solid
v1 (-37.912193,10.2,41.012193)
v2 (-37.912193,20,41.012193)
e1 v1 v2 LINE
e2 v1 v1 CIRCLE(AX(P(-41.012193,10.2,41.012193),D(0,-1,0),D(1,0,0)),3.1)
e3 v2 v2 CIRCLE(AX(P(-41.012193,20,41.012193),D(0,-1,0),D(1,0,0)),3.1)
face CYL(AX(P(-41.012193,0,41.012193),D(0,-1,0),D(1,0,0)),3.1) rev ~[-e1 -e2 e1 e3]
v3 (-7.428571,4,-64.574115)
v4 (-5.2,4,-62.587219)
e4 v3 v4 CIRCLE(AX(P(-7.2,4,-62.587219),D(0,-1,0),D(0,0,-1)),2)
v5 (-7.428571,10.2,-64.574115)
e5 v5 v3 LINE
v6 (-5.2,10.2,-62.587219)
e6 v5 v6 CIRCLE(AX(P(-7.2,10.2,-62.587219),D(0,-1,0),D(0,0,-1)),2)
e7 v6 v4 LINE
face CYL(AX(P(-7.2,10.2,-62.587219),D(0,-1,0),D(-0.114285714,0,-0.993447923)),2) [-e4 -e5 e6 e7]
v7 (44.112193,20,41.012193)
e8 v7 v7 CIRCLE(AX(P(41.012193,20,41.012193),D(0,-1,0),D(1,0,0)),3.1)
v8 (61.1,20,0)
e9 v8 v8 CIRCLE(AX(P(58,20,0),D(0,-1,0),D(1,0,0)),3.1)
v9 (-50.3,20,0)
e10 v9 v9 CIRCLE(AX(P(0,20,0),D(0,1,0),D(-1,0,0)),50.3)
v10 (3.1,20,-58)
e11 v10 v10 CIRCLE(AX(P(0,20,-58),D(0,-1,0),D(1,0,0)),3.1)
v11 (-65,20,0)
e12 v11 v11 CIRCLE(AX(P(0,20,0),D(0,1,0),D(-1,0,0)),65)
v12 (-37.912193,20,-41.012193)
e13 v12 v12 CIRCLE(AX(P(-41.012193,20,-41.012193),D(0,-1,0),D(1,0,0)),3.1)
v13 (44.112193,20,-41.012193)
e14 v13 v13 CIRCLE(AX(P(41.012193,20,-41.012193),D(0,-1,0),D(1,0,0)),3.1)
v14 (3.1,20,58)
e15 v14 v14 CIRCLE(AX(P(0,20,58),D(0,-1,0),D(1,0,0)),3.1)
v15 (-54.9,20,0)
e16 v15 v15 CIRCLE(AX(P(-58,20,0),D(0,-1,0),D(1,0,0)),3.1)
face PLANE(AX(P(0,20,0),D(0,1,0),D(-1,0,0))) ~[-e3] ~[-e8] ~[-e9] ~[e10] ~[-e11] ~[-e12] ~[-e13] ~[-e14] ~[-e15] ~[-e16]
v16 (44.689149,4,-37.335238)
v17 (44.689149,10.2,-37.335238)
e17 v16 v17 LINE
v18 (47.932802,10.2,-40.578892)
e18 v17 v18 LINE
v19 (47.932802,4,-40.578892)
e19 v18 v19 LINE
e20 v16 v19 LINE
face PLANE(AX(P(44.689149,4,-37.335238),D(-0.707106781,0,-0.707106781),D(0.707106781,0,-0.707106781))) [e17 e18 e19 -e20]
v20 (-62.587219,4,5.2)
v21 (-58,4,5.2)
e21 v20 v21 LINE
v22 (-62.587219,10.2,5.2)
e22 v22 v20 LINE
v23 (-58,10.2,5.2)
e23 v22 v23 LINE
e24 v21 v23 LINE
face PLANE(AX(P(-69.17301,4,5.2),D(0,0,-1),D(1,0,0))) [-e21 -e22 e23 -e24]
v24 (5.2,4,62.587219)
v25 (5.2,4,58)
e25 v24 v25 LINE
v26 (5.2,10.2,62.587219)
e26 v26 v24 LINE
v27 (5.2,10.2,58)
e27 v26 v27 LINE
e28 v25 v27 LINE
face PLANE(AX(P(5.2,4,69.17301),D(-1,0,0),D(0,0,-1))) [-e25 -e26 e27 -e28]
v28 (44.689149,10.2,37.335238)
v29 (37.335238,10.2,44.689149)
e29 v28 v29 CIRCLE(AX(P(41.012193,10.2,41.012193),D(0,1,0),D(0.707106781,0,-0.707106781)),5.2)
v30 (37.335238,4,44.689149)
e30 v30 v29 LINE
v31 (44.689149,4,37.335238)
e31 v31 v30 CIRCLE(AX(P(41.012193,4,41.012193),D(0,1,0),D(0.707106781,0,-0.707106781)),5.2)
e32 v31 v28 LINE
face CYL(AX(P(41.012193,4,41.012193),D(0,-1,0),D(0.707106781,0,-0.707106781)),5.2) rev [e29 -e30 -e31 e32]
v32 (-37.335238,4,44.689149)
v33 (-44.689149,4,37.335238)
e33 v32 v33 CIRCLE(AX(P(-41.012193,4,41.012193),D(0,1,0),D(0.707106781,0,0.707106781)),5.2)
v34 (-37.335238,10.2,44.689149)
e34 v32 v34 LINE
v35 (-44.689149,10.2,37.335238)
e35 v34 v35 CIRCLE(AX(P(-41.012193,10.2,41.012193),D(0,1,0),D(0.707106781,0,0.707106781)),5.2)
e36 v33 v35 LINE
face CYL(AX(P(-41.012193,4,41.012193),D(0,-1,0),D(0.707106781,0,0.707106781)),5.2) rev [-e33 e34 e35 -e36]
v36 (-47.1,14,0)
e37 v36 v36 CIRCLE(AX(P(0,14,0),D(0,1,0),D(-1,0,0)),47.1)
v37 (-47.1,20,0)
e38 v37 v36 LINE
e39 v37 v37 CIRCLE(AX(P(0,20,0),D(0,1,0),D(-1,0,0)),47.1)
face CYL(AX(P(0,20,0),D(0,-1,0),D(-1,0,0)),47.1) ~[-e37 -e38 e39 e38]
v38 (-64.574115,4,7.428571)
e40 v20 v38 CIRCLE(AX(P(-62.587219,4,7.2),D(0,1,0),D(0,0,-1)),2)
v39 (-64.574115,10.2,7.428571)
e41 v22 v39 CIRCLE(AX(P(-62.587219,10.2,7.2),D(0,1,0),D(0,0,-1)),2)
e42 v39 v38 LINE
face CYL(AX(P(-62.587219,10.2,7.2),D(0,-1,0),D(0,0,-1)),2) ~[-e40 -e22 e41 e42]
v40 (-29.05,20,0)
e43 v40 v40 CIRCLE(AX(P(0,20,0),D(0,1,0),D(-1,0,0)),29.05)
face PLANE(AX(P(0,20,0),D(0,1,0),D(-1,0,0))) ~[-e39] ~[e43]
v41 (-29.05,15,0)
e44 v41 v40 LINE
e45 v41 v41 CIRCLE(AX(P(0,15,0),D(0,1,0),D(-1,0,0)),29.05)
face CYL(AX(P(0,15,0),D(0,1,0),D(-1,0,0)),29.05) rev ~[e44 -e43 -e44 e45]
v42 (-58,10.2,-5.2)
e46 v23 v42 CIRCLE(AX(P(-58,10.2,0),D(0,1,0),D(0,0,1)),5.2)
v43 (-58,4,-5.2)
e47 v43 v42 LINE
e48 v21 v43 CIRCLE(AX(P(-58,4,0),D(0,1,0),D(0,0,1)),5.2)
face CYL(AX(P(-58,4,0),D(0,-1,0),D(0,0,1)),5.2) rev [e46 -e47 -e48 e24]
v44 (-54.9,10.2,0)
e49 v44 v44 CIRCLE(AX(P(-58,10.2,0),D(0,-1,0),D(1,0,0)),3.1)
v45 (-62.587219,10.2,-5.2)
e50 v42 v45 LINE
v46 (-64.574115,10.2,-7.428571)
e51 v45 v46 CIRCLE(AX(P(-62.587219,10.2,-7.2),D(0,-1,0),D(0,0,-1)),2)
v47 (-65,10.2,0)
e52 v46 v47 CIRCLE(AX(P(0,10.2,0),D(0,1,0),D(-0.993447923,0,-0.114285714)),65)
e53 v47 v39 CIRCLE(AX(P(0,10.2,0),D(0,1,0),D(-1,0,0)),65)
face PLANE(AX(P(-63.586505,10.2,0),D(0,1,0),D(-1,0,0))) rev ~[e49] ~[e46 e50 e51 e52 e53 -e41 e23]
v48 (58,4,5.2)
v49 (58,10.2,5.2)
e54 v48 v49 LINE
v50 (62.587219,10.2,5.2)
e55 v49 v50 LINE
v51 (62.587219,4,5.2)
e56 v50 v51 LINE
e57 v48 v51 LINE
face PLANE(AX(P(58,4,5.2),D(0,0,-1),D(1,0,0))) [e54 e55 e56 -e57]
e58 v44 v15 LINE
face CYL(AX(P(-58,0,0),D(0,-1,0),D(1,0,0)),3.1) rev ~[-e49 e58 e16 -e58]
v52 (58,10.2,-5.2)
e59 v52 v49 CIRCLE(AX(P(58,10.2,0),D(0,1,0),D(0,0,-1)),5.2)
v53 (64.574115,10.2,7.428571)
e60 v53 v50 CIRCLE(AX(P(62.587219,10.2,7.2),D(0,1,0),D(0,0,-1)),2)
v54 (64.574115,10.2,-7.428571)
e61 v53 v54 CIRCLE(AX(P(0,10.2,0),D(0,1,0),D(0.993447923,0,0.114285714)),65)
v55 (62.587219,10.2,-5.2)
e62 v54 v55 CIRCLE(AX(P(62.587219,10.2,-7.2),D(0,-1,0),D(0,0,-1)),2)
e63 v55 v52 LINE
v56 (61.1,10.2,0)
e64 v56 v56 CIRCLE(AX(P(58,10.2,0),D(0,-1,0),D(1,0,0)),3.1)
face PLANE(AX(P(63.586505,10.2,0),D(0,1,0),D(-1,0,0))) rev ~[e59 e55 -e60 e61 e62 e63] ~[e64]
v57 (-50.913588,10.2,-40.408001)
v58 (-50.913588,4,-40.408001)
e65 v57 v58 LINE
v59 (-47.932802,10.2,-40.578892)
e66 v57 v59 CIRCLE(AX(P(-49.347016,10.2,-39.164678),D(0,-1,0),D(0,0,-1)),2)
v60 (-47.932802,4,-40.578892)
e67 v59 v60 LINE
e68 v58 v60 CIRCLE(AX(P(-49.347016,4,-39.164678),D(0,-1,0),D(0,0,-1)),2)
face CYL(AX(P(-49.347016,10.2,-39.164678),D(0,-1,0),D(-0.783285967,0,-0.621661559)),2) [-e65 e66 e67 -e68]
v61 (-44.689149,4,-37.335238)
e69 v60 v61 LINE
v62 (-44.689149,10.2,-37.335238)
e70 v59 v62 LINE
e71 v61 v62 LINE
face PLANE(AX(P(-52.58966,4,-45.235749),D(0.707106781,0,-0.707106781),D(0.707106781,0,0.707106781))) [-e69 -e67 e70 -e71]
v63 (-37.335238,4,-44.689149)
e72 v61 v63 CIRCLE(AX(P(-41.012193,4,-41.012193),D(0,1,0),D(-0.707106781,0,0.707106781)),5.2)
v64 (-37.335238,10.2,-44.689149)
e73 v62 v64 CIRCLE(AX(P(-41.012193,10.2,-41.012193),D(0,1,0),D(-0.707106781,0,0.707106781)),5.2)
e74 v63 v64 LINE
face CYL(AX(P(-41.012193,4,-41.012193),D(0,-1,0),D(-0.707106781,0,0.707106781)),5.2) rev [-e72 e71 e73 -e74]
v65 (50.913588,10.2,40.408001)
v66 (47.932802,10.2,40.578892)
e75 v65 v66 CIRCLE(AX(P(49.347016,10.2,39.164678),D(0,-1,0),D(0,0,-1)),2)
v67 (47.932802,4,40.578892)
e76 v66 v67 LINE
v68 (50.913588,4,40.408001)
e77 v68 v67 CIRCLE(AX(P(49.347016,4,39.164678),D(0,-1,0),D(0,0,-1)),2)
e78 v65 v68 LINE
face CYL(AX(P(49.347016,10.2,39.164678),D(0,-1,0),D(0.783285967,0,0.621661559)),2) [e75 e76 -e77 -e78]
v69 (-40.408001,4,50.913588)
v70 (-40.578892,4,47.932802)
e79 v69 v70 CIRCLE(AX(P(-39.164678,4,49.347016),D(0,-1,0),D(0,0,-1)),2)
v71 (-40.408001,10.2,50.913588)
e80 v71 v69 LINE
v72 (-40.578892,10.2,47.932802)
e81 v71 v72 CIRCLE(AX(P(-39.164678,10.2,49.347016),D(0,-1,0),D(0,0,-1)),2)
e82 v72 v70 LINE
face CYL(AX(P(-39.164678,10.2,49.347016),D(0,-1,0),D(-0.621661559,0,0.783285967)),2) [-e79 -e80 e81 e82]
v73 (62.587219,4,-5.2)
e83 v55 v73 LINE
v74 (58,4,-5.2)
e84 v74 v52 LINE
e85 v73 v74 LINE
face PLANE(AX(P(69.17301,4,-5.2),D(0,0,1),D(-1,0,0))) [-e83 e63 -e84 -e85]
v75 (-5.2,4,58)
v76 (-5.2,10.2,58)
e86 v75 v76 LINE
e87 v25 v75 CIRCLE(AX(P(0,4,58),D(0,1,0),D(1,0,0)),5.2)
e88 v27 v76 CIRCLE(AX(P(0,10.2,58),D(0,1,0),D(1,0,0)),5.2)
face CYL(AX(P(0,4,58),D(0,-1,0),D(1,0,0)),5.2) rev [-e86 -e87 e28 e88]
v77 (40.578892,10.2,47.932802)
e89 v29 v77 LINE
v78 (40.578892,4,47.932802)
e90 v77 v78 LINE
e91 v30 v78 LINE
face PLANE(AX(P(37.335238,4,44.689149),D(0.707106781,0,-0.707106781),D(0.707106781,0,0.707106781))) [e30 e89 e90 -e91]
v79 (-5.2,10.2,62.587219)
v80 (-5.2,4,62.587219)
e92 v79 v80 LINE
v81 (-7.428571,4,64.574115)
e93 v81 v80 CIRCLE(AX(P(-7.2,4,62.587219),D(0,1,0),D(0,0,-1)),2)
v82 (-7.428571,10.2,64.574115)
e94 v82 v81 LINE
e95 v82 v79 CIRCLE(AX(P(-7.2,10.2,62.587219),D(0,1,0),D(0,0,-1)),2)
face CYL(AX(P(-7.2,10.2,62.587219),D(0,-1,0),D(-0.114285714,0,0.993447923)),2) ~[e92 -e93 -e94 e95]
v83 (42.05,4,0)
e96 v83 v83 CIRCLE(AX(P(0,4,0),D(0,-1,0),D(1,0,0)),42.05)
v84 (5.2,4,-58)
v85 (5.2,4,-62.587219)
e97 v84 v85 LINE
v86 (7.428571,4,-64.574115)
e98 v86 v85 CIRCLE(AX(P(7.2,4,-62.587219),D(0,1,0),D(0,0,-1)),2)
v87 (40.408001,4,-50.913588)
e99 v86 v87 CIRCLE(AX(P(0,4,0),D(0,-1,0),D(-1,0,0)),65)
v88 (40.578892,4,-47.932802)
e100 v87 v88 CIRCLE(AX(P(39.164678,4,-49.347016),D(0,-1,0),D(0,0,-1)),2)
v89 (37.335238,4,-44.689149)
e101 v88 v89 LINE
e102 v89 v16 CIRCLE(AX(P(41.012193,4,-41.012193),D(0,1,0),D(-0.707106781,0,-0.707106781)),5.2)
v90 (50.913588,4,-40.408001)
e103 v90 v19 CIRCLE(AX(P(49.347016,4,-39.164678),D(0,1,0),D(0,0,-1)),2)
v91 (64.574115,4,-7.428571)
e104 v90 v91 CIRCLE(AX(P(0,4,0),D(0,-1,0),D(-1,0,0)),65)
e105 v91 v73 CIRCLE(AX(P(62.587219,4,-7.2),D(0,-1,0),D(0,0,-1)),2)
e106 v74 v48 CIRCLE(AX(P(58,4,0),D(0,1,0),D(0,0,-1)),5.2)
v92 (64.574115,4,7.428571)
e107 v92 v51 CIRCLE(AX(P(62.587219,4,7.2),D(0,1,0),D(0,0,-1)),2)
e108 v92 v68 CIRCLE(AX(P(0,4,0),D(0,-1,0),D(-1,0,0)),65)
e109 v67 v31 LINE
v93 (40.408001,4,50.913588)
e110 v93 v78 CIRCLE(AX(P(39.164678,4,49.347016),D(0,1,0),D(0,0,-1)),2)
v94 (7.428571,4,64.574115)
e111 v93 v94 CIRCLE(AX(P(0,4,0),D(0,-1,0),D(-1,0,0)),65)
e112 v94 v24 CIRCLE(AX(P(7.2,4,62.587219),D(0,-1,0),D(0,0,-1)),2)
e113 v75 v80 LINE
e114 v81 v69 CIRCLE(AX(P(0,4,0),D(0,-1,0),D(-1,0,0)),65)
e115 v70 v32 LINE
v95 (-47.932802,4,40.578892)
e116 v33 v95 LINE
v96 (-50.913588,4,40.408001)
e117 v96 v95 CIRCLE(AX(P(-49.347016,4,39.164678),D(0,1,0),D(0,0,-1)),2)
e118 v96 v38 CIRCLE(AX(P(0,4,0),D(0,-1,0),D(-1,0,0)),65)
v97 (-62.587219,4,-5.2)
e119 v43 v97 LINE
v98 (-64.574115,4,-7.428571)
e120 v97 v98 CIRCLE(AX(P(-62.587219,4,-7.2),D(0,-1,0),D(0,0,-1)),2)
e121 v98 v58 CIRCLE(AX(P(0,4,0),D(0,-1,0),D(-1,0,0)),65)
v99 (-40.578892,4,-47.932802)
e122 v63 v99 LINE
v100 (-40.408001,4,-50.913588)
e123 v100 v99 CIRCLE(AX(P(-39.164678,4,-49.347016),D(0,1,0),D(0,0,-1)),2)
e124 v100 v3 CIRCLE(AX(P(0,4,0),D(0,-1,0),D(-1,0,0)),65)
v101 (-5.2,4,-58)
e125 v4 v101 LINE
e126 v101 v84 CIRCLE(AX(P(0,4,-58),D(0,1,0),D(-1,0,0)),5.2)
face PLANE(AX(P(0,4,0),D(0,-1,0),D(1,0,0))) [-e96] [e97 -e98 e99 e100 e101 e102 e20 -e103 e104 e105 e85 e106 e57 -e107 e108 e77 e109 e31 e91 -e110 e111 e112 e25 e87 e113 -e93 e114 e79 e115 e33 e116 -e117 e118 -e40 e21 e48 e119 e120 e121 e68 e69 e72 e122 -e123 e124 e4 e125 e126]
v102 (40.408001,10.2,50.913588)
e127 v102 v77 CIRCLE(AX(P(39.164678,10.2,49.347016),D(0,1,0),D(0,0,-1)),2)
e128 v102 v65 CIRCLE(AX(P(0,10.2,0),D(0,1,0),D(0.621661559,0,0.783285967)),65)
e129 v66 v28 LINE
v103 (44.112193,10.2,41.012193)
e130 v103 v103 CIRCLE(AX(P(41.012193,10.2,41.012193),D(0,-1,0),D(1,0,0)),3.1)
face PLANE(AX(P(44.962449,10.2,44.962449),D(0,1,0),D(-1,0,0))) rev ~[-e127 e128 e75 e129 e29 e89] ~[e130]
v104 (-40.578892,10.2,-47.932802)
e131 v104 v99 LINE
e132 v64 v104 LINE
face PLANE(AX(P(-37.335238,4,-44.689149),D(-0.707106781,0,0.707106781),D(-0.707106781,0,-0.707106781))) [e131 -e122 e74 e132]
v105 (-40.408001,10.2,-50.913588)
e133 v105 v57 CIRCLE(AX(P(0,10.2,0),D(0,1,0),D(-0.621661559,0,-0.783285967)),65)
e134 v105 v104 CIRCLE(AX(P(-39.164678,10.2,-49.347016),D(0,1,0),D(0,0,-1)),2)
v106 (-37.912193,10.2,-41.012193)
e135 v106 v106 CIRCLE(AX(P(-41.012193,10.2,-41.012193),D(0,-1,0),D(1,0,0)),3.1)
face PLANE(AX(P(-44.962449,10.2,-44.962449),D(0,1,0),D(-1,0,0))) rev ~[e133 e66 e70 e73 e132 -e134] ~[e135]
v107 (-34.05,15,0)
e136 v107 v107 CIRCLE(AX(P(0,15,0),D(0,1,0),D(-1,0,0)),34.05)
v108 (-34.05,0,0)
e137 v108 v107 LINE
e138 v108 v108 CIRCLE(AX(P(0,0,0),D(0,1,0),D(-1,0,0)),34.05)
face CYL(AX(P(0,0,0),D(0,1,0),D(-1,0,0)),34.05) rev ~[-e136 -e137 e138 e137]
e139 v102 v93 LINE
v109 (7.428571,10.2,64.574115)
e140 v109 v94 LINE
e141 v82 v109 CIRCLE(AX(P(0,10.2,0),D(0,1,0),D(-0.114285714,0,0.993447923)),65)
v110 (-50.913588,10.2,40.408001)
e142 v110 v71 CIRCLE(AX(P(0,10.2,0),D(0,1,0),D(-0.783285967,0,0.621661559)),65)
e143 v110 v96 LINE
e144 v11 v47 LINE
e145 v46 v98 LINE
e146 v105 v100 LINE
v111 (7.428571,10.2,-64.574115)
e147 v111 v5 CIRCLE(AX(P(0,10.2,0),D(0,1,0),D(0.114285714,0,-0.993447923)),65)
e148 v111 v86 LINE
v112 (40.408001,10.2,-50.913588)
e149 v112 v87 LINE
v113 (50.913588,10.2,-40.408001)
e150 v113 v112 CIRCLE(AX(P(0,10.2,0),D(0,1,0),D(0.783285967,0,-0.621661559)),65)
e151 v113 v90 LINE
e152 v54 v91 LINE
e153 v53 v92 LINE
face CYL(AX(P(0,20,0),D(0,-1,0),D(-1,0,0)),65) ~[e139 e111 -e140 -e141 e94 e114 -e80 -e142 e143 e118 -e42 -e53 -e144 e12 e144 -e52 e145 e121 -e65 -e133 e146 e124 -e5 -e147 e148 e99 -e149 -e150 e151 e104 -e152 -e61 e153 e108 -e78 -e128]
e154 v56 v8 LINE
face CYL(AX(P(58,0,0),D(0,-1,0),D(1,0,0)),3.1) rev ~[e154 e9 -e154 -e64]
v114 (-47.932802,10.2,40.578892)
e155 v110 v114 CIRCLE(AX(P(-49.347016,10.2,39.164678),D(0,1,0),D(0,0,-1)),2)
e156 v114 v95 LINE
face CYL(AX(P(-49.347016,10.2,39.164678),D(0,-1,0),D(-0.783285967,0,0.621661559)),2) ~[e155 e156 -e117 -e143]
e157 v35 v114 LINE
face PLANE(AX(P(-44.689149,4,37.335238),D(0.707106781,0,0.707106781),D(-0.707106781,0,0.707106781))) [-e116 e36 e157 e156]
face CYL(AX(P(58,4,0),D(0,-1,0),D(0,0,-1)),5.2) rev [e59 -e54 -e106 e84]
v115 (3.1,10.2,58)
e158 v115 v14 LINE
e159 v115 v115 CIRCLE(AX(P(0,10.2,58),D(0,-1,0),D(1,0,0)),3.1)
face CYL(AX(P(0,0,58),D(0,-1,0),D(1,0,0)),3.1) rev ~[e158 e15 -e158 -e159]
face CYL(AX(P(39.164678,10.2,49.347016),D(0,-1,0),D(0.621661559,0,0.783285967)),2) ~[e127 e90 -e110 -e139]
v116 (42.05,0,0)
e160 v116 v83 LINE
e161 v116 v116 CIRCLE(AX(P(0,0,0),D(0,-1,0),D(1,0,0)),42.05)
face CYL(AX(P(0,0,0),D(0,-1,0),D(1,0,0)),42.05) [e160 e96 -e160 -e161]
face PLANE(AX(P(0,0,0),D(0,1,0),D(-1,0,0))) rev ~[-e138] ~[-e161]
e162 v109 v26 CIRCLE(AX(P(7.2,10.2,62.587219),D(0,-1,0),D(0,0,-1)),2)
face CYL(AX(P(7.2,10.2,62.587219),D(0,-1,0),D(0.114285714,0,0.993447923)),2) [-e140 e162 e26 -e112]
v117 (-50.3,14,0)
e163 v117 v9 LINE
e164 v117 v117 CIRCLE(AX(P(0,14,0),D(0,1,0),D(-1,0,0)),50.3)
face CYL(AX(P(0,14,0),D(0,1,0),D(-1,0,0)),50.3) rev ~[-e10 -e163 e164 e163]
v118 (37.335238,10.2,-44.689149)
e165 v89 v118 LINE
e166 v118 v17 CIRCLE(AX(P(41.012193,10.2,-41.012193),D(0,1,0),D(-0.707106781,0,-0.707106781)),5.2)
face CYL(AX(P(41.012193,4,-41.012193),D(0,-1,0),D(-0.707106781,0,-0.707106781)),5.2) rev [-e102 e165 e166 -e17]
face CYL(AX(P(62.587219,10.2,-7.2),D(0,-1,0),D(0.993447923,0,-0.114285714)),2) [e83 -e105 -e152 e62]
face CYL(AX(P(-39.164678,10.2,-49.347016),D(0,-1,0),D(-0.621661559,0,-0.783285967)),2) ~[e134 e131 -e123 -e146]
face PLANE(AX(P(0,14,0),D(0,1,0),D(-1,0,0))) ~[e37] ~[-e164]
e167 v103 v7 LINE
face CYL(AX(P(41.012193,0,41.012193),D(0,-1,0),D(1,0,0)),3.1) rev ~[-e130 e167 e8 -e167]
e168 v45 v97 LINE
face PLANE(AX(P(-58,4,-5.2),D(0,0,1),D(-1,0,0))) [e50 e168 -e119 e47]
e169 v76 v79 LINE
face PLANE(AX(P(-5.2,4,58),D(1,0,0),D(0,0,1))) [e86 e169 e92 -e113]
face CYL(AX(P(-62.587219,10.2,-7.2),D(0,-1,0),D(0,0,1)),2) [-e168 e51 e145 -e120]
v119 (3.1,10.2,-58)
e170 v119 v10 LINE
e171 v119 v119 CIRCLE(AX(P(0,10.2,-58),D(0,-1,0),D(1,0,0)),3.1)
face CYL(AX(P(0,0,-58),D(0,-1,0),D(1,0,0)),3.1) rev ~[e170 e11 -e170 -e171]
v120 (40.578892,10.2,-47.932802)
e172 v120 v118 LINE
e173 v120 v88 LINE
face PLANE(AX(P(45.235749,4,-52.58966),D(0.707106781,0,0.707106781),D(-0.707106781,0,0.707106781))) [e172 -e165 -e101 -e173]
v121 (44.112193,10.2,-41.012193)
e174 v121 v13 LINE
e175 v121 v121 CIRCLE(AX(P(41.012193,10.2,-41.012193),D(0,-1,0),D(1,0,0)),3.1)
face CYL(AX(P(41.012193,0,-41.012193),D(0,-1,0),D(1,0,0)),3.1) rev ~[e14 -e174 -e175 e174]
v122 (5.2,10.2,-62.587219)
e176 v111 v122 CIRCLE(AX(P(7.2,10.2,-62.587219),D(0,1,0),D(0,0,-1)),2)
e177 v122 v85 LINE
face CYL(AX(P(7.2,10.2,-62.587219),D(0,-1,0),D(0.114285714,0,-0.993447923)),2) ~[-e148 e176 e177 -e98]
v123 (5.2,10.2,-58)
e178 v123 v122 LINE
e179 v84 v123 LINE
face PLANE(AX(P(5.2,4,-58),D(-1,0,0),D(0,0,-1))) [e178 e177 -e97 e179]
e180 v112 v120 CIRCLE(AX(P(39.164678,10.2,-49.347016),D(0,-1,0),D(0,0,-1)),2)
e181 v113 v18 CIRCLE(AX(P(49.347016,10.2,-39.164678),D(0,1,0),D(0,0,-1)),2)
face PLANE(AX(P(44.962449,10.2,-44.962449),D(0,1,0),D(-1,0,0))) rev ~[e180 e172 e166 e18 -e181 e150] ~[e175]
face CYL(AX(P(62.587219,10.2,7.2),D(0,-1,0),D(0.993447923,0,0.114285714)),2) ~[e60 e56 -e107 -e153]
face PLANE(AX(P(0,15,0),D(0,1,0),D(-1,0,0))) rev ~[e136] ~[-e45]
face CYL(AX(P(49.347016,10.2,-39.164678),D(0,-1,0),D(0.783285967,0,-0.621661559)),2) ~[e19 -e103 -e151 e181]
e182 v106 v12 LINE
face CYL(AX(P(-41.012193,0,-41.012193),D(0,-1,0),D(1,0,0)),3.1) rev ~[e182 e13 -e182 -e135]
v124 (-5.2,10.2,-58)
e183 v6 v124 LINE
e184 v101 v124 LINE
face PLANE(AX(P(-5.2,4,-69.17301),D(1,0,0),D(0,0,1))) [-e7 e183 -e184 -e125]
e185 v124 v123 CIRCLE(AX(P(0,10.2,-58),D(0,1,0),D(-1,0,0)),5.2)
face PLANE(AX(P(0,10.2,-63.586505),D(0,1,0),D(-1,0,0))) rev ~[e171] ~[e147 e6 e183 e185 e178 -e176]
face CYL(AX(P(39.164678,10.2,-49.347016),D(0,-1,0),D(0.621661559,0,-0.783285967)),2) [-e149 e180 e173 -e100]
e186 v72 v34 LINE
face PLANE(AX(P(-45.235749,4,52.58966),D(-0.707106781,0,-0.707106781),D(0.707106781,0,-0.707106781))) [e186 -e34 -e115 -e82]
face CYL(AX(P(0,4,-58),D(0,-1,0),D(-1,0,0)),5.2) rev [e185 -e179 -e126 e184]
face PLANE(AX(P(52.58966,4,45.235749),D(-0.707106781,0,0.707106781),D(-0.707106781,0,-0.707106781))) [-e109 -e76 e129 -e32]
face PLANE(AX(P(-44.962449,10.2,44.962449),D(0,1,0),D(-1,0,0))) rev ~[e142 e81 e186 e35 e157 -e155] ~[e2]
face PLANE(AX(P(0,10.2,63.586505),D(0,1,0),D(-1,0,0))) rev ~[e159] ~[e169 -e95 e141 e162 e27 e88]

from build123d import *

# Parameters (mm, degrees)
ESQUISSE2_R             = 3.1
ENL_V_MAT_EXTRU_1_DEPTH = 21
ESQUISSE4_OUTSIDE_W     = 168.986
ESQUISSE4_OUTSIDE_H     = 168.986
ESQUISSE4_OUTSIDE_R     = 42.05
ENL_V_MAT_EXTRU_3_DEPTH = 4
ESQUISSE3_R             = 5.1
ENL_V_MAT_EXTRU_2_DEPTH = 6.2
ENL_V_MAT_EXTRU_4_DEPTH = 6.2
CONG_2_R                = 2


with BuildPart() as part:
    # Esquisse1 → Révolution1 (revolve)
    with BuildSketch(Plane.XY):
        Polygon((-34.05, 0), (-34.05, 15), (-29.05, 15), (-29.05, 20), (-47.1, 20), (-47.1, 14), (-50.3, 14), (-50.3, 20), (-65, 20), (-65, 0), align=None)
    revolve(axis=Axis((0, 0, 0), (0, 1, 0)))

    # Esquisse2 → Enlèv. mat.-Extru.1 (cut, through all)
    with BuildSketch(Plane.XZ):
        with Locations((0, 58)):
            Circle(ESQUISSE2_R)
        with Locations((41.012193309, 41.012193309)):
            Circle(ESQUISSE2_R)
        with Locations((58, 0)):
            Circle(ESQUISSE2_R)
        with Locations((41.012193309, -41.012193309)):
            Circle(ESQUISSE2_R)
        with Locations((0, -58)):
            Circle(ESQUISSE2_R)
        with Locations((-41.012193309, -41.012193309)):
            Circle(ESQUISSE2_R)
        with Locations((-58, 0)):
            Circle(ESQUISSE2_R)
        with Locations((-41.012193309, 41.012193309)):
            Circle(ESQUISSE2_R)
    extrude(amount=-ENL_V_MAT_EXTRU_1_DEPTH, mode=Mode.SUBTRACT)

    # Esquisse4 outside → Enlèv. mat.-Extru.3 (cut)
    with BuildSketch(Plane.XZ):
        Rectangle(ESQUISSE4_OUTSIDE_W, ESQUISSE4_OUTSIDE_H)
        Circle(ESQUISSE4_OUTSIDE_R, mode=Mode.SUBTRACT)
    extrude(amount=-ENL_V_MAT_EXTRU_3_DEPTH, mode=Mode.SUBTRACT)

    # Esquisse3 → Enlèv. mat.-Extru.2 (cut)
    with BuildSketch(Plane.XZ.offset(-4)):
        with Locations((0, 58)):
            Circle(ESQUISSE3_R)
        with Locations((41.012193309, 41.012193309)):
            Circle(ESQUISSE3_R)
        with Locations((58, 0)):
            Circle(ESQUISSE3_R)
        with Locations((41.012193309, -41.012193309)):
            Circle(ESQUISSE3_R)
        with Locations((0, -58)):
            Circle(ESQUISSE3_R)
        with Locations((-41.012193309, -41.012193309)):
            Circle(ESQUISSE3_R)
        with Locations((-58, 0)):
            Circle(ESQUISSE3_R)
        with Locations((-41.012193309, 41.012193309)):
            Circle(ESQUISSE3_R)
    extrude(amount=-ENL_V_MAT_EXTRU_2_DEPTH, mode=Mode.SUBTRACT)

    # Esquisse5 → Enlèv. mat.-Extru.4 (cut)
    with BuildSketch(Plane.XZ.offset(-4)):
        with BuildLine():
            Line((5.2, -58), (5.2, -69.173010208))
            ThreePointArc((5.2, -69.173010208), (0, -74.373010208), (-5.2, -69.173010208))
            Line((-5.2, -69.173010208), (-5.2, -58))
            ThreePointArc((-5.2, -58), (0, -52.8), (5.2, -58))
        make_face()
        with BuildLine():
            Line((-37.335238047, -44.689148571), (-45.235749331, -52.589659855))
            ThreePointArc((-45.235749331, -52.589659855), (-52.589659855, -52.589659855), (-52.589659855, -45.235749331))
            Line((-52.589659855, -45.235749331), (-44.689148571, -37.335238047))
            ThreePointArc((-44.689148571, -37.335238047), (-37.335238047, -37.335238047), (-37.335238047, -44.689148571))
        make_face()
        with BuildLine():
            Line((-58, -5.2), (-69.173010208, -5.2))
            ThreePointArc((-69.173010208, -5.2), (-74.373010208, 0), (-69.173010208, 5.2))
            Line((-69.173010208, 5.2), (-58, 5.2))
            ThreePointArc((-58, 5.2), (-52.8, 0), (-58, -5.2))
        make_face()
        with BuildLine():
            Line((-44.689148571, 37.335238047), (-52.589659855, 45.235749331))
            ThreePointArc((-52.589659855, 45.235749331), (-52.589659855, 52.589659855), (-45.235749331, 52.589659855))
            Line((-45.235749331, 52.589659855), (-37.335238047, 44.689148571))
            ThreePointArc((-37.335238047, 44.689148571), (-37.335238047, 37.335238047), (-44.689148571, 37.335238047))
        make_face()
        with BuildLine():
            Line((-5.2, 58), (-5.2, 69.173010208))
            ThreePointArc((-5.2, 69.173010208), (0, 74.373010208), (5.2, 69.173010208))
            Line((5.2, 69.173010208), (5.2, 58))
            ThreePointArc((5.2, 58), (0, 52.8), (-5.2, 58))
        make_face()
        with BuildLine():
            Line((37.335238047, 44.689148571), (45.235749331, 52.589659855))
            ThreePointArc((45.235749331, 52.589659855), (52.589659855, 52.589659855), (52.589659855, 45.235749331))
            Line((52.589659855, 45.235749331), (44.689148571, 37.335238047))
            ThreePointArc((44.689148571, 37.335238047), (37.335238047, 37.335238047), (37.335238047, 44.689148571))
        make_face()
        with BuildLine():
            Line((58, 5.2), (69.173010208, 5.2))
            ThreePointArc((69.173010208, 5.2), (74.373010208, 0), (69.173010208, -5.2))
            Line((69.173010208, -5.2), (58, -5.2))
            ThreePointArc((58, -5.2), (52.8, 0), (58, 5.2))
        make_face()
        with BuildLine():
            Line((44.689148571, -37.335238047), (52.589659855, -45.235749331))
            ThreePointArc((52.589659855, -45.235749331), (52.589659855, -52.589659855), (45.235749331, -52.589659855))
            Line((45.235749331, -52.589659855), (37.335238047, -44.689148571))
            ThreePointArc((37.335238047, -44.689148571), (37.335238047, -37.335238047), (44.689148571, -37.335238047))
        make_face()
    extrude(amount=-ENL_V_MAT_EXTRU_4_DEPTH, mode=Mode.SUBTRACT)

    # Congé2
    cong_2_edges = [part.edges().sort_by_distance(p)[0] for p in [
        (49.491581748, 7.1, -42.137671223),
        (42.137671223, 7.1, -49.491581748),
        (64.791666131, 7.1, 5.2),
        (64.791666131, 7.1, -5.2),
        (42.137671223, 7.1, 49.491581748),
        (49.491581748, 7.1, 42.137671223),
        (-5.2, 7.1, 64.791666131),
        (5.2, 7.1, 64.791666131),
        (-49.491581748, 7.1, 42.137671223),
        (-42.137671223, 7.1, 49.491581748),
        (-64.791666131, 7.1, -5.2),
        (-64.791666131, 7.1, 5.2),
        (-42.137671223, 7.1, -49.491581748),
        (-49.491581748, 7.1, -42.137671223),
        (5.2, 7.1, -64.791666131),
        (-5.2, 7.1, -64.791666131),
    ]]
    fillet(cong_2_edges, radius=CONG_2_R)


solid = part.part
